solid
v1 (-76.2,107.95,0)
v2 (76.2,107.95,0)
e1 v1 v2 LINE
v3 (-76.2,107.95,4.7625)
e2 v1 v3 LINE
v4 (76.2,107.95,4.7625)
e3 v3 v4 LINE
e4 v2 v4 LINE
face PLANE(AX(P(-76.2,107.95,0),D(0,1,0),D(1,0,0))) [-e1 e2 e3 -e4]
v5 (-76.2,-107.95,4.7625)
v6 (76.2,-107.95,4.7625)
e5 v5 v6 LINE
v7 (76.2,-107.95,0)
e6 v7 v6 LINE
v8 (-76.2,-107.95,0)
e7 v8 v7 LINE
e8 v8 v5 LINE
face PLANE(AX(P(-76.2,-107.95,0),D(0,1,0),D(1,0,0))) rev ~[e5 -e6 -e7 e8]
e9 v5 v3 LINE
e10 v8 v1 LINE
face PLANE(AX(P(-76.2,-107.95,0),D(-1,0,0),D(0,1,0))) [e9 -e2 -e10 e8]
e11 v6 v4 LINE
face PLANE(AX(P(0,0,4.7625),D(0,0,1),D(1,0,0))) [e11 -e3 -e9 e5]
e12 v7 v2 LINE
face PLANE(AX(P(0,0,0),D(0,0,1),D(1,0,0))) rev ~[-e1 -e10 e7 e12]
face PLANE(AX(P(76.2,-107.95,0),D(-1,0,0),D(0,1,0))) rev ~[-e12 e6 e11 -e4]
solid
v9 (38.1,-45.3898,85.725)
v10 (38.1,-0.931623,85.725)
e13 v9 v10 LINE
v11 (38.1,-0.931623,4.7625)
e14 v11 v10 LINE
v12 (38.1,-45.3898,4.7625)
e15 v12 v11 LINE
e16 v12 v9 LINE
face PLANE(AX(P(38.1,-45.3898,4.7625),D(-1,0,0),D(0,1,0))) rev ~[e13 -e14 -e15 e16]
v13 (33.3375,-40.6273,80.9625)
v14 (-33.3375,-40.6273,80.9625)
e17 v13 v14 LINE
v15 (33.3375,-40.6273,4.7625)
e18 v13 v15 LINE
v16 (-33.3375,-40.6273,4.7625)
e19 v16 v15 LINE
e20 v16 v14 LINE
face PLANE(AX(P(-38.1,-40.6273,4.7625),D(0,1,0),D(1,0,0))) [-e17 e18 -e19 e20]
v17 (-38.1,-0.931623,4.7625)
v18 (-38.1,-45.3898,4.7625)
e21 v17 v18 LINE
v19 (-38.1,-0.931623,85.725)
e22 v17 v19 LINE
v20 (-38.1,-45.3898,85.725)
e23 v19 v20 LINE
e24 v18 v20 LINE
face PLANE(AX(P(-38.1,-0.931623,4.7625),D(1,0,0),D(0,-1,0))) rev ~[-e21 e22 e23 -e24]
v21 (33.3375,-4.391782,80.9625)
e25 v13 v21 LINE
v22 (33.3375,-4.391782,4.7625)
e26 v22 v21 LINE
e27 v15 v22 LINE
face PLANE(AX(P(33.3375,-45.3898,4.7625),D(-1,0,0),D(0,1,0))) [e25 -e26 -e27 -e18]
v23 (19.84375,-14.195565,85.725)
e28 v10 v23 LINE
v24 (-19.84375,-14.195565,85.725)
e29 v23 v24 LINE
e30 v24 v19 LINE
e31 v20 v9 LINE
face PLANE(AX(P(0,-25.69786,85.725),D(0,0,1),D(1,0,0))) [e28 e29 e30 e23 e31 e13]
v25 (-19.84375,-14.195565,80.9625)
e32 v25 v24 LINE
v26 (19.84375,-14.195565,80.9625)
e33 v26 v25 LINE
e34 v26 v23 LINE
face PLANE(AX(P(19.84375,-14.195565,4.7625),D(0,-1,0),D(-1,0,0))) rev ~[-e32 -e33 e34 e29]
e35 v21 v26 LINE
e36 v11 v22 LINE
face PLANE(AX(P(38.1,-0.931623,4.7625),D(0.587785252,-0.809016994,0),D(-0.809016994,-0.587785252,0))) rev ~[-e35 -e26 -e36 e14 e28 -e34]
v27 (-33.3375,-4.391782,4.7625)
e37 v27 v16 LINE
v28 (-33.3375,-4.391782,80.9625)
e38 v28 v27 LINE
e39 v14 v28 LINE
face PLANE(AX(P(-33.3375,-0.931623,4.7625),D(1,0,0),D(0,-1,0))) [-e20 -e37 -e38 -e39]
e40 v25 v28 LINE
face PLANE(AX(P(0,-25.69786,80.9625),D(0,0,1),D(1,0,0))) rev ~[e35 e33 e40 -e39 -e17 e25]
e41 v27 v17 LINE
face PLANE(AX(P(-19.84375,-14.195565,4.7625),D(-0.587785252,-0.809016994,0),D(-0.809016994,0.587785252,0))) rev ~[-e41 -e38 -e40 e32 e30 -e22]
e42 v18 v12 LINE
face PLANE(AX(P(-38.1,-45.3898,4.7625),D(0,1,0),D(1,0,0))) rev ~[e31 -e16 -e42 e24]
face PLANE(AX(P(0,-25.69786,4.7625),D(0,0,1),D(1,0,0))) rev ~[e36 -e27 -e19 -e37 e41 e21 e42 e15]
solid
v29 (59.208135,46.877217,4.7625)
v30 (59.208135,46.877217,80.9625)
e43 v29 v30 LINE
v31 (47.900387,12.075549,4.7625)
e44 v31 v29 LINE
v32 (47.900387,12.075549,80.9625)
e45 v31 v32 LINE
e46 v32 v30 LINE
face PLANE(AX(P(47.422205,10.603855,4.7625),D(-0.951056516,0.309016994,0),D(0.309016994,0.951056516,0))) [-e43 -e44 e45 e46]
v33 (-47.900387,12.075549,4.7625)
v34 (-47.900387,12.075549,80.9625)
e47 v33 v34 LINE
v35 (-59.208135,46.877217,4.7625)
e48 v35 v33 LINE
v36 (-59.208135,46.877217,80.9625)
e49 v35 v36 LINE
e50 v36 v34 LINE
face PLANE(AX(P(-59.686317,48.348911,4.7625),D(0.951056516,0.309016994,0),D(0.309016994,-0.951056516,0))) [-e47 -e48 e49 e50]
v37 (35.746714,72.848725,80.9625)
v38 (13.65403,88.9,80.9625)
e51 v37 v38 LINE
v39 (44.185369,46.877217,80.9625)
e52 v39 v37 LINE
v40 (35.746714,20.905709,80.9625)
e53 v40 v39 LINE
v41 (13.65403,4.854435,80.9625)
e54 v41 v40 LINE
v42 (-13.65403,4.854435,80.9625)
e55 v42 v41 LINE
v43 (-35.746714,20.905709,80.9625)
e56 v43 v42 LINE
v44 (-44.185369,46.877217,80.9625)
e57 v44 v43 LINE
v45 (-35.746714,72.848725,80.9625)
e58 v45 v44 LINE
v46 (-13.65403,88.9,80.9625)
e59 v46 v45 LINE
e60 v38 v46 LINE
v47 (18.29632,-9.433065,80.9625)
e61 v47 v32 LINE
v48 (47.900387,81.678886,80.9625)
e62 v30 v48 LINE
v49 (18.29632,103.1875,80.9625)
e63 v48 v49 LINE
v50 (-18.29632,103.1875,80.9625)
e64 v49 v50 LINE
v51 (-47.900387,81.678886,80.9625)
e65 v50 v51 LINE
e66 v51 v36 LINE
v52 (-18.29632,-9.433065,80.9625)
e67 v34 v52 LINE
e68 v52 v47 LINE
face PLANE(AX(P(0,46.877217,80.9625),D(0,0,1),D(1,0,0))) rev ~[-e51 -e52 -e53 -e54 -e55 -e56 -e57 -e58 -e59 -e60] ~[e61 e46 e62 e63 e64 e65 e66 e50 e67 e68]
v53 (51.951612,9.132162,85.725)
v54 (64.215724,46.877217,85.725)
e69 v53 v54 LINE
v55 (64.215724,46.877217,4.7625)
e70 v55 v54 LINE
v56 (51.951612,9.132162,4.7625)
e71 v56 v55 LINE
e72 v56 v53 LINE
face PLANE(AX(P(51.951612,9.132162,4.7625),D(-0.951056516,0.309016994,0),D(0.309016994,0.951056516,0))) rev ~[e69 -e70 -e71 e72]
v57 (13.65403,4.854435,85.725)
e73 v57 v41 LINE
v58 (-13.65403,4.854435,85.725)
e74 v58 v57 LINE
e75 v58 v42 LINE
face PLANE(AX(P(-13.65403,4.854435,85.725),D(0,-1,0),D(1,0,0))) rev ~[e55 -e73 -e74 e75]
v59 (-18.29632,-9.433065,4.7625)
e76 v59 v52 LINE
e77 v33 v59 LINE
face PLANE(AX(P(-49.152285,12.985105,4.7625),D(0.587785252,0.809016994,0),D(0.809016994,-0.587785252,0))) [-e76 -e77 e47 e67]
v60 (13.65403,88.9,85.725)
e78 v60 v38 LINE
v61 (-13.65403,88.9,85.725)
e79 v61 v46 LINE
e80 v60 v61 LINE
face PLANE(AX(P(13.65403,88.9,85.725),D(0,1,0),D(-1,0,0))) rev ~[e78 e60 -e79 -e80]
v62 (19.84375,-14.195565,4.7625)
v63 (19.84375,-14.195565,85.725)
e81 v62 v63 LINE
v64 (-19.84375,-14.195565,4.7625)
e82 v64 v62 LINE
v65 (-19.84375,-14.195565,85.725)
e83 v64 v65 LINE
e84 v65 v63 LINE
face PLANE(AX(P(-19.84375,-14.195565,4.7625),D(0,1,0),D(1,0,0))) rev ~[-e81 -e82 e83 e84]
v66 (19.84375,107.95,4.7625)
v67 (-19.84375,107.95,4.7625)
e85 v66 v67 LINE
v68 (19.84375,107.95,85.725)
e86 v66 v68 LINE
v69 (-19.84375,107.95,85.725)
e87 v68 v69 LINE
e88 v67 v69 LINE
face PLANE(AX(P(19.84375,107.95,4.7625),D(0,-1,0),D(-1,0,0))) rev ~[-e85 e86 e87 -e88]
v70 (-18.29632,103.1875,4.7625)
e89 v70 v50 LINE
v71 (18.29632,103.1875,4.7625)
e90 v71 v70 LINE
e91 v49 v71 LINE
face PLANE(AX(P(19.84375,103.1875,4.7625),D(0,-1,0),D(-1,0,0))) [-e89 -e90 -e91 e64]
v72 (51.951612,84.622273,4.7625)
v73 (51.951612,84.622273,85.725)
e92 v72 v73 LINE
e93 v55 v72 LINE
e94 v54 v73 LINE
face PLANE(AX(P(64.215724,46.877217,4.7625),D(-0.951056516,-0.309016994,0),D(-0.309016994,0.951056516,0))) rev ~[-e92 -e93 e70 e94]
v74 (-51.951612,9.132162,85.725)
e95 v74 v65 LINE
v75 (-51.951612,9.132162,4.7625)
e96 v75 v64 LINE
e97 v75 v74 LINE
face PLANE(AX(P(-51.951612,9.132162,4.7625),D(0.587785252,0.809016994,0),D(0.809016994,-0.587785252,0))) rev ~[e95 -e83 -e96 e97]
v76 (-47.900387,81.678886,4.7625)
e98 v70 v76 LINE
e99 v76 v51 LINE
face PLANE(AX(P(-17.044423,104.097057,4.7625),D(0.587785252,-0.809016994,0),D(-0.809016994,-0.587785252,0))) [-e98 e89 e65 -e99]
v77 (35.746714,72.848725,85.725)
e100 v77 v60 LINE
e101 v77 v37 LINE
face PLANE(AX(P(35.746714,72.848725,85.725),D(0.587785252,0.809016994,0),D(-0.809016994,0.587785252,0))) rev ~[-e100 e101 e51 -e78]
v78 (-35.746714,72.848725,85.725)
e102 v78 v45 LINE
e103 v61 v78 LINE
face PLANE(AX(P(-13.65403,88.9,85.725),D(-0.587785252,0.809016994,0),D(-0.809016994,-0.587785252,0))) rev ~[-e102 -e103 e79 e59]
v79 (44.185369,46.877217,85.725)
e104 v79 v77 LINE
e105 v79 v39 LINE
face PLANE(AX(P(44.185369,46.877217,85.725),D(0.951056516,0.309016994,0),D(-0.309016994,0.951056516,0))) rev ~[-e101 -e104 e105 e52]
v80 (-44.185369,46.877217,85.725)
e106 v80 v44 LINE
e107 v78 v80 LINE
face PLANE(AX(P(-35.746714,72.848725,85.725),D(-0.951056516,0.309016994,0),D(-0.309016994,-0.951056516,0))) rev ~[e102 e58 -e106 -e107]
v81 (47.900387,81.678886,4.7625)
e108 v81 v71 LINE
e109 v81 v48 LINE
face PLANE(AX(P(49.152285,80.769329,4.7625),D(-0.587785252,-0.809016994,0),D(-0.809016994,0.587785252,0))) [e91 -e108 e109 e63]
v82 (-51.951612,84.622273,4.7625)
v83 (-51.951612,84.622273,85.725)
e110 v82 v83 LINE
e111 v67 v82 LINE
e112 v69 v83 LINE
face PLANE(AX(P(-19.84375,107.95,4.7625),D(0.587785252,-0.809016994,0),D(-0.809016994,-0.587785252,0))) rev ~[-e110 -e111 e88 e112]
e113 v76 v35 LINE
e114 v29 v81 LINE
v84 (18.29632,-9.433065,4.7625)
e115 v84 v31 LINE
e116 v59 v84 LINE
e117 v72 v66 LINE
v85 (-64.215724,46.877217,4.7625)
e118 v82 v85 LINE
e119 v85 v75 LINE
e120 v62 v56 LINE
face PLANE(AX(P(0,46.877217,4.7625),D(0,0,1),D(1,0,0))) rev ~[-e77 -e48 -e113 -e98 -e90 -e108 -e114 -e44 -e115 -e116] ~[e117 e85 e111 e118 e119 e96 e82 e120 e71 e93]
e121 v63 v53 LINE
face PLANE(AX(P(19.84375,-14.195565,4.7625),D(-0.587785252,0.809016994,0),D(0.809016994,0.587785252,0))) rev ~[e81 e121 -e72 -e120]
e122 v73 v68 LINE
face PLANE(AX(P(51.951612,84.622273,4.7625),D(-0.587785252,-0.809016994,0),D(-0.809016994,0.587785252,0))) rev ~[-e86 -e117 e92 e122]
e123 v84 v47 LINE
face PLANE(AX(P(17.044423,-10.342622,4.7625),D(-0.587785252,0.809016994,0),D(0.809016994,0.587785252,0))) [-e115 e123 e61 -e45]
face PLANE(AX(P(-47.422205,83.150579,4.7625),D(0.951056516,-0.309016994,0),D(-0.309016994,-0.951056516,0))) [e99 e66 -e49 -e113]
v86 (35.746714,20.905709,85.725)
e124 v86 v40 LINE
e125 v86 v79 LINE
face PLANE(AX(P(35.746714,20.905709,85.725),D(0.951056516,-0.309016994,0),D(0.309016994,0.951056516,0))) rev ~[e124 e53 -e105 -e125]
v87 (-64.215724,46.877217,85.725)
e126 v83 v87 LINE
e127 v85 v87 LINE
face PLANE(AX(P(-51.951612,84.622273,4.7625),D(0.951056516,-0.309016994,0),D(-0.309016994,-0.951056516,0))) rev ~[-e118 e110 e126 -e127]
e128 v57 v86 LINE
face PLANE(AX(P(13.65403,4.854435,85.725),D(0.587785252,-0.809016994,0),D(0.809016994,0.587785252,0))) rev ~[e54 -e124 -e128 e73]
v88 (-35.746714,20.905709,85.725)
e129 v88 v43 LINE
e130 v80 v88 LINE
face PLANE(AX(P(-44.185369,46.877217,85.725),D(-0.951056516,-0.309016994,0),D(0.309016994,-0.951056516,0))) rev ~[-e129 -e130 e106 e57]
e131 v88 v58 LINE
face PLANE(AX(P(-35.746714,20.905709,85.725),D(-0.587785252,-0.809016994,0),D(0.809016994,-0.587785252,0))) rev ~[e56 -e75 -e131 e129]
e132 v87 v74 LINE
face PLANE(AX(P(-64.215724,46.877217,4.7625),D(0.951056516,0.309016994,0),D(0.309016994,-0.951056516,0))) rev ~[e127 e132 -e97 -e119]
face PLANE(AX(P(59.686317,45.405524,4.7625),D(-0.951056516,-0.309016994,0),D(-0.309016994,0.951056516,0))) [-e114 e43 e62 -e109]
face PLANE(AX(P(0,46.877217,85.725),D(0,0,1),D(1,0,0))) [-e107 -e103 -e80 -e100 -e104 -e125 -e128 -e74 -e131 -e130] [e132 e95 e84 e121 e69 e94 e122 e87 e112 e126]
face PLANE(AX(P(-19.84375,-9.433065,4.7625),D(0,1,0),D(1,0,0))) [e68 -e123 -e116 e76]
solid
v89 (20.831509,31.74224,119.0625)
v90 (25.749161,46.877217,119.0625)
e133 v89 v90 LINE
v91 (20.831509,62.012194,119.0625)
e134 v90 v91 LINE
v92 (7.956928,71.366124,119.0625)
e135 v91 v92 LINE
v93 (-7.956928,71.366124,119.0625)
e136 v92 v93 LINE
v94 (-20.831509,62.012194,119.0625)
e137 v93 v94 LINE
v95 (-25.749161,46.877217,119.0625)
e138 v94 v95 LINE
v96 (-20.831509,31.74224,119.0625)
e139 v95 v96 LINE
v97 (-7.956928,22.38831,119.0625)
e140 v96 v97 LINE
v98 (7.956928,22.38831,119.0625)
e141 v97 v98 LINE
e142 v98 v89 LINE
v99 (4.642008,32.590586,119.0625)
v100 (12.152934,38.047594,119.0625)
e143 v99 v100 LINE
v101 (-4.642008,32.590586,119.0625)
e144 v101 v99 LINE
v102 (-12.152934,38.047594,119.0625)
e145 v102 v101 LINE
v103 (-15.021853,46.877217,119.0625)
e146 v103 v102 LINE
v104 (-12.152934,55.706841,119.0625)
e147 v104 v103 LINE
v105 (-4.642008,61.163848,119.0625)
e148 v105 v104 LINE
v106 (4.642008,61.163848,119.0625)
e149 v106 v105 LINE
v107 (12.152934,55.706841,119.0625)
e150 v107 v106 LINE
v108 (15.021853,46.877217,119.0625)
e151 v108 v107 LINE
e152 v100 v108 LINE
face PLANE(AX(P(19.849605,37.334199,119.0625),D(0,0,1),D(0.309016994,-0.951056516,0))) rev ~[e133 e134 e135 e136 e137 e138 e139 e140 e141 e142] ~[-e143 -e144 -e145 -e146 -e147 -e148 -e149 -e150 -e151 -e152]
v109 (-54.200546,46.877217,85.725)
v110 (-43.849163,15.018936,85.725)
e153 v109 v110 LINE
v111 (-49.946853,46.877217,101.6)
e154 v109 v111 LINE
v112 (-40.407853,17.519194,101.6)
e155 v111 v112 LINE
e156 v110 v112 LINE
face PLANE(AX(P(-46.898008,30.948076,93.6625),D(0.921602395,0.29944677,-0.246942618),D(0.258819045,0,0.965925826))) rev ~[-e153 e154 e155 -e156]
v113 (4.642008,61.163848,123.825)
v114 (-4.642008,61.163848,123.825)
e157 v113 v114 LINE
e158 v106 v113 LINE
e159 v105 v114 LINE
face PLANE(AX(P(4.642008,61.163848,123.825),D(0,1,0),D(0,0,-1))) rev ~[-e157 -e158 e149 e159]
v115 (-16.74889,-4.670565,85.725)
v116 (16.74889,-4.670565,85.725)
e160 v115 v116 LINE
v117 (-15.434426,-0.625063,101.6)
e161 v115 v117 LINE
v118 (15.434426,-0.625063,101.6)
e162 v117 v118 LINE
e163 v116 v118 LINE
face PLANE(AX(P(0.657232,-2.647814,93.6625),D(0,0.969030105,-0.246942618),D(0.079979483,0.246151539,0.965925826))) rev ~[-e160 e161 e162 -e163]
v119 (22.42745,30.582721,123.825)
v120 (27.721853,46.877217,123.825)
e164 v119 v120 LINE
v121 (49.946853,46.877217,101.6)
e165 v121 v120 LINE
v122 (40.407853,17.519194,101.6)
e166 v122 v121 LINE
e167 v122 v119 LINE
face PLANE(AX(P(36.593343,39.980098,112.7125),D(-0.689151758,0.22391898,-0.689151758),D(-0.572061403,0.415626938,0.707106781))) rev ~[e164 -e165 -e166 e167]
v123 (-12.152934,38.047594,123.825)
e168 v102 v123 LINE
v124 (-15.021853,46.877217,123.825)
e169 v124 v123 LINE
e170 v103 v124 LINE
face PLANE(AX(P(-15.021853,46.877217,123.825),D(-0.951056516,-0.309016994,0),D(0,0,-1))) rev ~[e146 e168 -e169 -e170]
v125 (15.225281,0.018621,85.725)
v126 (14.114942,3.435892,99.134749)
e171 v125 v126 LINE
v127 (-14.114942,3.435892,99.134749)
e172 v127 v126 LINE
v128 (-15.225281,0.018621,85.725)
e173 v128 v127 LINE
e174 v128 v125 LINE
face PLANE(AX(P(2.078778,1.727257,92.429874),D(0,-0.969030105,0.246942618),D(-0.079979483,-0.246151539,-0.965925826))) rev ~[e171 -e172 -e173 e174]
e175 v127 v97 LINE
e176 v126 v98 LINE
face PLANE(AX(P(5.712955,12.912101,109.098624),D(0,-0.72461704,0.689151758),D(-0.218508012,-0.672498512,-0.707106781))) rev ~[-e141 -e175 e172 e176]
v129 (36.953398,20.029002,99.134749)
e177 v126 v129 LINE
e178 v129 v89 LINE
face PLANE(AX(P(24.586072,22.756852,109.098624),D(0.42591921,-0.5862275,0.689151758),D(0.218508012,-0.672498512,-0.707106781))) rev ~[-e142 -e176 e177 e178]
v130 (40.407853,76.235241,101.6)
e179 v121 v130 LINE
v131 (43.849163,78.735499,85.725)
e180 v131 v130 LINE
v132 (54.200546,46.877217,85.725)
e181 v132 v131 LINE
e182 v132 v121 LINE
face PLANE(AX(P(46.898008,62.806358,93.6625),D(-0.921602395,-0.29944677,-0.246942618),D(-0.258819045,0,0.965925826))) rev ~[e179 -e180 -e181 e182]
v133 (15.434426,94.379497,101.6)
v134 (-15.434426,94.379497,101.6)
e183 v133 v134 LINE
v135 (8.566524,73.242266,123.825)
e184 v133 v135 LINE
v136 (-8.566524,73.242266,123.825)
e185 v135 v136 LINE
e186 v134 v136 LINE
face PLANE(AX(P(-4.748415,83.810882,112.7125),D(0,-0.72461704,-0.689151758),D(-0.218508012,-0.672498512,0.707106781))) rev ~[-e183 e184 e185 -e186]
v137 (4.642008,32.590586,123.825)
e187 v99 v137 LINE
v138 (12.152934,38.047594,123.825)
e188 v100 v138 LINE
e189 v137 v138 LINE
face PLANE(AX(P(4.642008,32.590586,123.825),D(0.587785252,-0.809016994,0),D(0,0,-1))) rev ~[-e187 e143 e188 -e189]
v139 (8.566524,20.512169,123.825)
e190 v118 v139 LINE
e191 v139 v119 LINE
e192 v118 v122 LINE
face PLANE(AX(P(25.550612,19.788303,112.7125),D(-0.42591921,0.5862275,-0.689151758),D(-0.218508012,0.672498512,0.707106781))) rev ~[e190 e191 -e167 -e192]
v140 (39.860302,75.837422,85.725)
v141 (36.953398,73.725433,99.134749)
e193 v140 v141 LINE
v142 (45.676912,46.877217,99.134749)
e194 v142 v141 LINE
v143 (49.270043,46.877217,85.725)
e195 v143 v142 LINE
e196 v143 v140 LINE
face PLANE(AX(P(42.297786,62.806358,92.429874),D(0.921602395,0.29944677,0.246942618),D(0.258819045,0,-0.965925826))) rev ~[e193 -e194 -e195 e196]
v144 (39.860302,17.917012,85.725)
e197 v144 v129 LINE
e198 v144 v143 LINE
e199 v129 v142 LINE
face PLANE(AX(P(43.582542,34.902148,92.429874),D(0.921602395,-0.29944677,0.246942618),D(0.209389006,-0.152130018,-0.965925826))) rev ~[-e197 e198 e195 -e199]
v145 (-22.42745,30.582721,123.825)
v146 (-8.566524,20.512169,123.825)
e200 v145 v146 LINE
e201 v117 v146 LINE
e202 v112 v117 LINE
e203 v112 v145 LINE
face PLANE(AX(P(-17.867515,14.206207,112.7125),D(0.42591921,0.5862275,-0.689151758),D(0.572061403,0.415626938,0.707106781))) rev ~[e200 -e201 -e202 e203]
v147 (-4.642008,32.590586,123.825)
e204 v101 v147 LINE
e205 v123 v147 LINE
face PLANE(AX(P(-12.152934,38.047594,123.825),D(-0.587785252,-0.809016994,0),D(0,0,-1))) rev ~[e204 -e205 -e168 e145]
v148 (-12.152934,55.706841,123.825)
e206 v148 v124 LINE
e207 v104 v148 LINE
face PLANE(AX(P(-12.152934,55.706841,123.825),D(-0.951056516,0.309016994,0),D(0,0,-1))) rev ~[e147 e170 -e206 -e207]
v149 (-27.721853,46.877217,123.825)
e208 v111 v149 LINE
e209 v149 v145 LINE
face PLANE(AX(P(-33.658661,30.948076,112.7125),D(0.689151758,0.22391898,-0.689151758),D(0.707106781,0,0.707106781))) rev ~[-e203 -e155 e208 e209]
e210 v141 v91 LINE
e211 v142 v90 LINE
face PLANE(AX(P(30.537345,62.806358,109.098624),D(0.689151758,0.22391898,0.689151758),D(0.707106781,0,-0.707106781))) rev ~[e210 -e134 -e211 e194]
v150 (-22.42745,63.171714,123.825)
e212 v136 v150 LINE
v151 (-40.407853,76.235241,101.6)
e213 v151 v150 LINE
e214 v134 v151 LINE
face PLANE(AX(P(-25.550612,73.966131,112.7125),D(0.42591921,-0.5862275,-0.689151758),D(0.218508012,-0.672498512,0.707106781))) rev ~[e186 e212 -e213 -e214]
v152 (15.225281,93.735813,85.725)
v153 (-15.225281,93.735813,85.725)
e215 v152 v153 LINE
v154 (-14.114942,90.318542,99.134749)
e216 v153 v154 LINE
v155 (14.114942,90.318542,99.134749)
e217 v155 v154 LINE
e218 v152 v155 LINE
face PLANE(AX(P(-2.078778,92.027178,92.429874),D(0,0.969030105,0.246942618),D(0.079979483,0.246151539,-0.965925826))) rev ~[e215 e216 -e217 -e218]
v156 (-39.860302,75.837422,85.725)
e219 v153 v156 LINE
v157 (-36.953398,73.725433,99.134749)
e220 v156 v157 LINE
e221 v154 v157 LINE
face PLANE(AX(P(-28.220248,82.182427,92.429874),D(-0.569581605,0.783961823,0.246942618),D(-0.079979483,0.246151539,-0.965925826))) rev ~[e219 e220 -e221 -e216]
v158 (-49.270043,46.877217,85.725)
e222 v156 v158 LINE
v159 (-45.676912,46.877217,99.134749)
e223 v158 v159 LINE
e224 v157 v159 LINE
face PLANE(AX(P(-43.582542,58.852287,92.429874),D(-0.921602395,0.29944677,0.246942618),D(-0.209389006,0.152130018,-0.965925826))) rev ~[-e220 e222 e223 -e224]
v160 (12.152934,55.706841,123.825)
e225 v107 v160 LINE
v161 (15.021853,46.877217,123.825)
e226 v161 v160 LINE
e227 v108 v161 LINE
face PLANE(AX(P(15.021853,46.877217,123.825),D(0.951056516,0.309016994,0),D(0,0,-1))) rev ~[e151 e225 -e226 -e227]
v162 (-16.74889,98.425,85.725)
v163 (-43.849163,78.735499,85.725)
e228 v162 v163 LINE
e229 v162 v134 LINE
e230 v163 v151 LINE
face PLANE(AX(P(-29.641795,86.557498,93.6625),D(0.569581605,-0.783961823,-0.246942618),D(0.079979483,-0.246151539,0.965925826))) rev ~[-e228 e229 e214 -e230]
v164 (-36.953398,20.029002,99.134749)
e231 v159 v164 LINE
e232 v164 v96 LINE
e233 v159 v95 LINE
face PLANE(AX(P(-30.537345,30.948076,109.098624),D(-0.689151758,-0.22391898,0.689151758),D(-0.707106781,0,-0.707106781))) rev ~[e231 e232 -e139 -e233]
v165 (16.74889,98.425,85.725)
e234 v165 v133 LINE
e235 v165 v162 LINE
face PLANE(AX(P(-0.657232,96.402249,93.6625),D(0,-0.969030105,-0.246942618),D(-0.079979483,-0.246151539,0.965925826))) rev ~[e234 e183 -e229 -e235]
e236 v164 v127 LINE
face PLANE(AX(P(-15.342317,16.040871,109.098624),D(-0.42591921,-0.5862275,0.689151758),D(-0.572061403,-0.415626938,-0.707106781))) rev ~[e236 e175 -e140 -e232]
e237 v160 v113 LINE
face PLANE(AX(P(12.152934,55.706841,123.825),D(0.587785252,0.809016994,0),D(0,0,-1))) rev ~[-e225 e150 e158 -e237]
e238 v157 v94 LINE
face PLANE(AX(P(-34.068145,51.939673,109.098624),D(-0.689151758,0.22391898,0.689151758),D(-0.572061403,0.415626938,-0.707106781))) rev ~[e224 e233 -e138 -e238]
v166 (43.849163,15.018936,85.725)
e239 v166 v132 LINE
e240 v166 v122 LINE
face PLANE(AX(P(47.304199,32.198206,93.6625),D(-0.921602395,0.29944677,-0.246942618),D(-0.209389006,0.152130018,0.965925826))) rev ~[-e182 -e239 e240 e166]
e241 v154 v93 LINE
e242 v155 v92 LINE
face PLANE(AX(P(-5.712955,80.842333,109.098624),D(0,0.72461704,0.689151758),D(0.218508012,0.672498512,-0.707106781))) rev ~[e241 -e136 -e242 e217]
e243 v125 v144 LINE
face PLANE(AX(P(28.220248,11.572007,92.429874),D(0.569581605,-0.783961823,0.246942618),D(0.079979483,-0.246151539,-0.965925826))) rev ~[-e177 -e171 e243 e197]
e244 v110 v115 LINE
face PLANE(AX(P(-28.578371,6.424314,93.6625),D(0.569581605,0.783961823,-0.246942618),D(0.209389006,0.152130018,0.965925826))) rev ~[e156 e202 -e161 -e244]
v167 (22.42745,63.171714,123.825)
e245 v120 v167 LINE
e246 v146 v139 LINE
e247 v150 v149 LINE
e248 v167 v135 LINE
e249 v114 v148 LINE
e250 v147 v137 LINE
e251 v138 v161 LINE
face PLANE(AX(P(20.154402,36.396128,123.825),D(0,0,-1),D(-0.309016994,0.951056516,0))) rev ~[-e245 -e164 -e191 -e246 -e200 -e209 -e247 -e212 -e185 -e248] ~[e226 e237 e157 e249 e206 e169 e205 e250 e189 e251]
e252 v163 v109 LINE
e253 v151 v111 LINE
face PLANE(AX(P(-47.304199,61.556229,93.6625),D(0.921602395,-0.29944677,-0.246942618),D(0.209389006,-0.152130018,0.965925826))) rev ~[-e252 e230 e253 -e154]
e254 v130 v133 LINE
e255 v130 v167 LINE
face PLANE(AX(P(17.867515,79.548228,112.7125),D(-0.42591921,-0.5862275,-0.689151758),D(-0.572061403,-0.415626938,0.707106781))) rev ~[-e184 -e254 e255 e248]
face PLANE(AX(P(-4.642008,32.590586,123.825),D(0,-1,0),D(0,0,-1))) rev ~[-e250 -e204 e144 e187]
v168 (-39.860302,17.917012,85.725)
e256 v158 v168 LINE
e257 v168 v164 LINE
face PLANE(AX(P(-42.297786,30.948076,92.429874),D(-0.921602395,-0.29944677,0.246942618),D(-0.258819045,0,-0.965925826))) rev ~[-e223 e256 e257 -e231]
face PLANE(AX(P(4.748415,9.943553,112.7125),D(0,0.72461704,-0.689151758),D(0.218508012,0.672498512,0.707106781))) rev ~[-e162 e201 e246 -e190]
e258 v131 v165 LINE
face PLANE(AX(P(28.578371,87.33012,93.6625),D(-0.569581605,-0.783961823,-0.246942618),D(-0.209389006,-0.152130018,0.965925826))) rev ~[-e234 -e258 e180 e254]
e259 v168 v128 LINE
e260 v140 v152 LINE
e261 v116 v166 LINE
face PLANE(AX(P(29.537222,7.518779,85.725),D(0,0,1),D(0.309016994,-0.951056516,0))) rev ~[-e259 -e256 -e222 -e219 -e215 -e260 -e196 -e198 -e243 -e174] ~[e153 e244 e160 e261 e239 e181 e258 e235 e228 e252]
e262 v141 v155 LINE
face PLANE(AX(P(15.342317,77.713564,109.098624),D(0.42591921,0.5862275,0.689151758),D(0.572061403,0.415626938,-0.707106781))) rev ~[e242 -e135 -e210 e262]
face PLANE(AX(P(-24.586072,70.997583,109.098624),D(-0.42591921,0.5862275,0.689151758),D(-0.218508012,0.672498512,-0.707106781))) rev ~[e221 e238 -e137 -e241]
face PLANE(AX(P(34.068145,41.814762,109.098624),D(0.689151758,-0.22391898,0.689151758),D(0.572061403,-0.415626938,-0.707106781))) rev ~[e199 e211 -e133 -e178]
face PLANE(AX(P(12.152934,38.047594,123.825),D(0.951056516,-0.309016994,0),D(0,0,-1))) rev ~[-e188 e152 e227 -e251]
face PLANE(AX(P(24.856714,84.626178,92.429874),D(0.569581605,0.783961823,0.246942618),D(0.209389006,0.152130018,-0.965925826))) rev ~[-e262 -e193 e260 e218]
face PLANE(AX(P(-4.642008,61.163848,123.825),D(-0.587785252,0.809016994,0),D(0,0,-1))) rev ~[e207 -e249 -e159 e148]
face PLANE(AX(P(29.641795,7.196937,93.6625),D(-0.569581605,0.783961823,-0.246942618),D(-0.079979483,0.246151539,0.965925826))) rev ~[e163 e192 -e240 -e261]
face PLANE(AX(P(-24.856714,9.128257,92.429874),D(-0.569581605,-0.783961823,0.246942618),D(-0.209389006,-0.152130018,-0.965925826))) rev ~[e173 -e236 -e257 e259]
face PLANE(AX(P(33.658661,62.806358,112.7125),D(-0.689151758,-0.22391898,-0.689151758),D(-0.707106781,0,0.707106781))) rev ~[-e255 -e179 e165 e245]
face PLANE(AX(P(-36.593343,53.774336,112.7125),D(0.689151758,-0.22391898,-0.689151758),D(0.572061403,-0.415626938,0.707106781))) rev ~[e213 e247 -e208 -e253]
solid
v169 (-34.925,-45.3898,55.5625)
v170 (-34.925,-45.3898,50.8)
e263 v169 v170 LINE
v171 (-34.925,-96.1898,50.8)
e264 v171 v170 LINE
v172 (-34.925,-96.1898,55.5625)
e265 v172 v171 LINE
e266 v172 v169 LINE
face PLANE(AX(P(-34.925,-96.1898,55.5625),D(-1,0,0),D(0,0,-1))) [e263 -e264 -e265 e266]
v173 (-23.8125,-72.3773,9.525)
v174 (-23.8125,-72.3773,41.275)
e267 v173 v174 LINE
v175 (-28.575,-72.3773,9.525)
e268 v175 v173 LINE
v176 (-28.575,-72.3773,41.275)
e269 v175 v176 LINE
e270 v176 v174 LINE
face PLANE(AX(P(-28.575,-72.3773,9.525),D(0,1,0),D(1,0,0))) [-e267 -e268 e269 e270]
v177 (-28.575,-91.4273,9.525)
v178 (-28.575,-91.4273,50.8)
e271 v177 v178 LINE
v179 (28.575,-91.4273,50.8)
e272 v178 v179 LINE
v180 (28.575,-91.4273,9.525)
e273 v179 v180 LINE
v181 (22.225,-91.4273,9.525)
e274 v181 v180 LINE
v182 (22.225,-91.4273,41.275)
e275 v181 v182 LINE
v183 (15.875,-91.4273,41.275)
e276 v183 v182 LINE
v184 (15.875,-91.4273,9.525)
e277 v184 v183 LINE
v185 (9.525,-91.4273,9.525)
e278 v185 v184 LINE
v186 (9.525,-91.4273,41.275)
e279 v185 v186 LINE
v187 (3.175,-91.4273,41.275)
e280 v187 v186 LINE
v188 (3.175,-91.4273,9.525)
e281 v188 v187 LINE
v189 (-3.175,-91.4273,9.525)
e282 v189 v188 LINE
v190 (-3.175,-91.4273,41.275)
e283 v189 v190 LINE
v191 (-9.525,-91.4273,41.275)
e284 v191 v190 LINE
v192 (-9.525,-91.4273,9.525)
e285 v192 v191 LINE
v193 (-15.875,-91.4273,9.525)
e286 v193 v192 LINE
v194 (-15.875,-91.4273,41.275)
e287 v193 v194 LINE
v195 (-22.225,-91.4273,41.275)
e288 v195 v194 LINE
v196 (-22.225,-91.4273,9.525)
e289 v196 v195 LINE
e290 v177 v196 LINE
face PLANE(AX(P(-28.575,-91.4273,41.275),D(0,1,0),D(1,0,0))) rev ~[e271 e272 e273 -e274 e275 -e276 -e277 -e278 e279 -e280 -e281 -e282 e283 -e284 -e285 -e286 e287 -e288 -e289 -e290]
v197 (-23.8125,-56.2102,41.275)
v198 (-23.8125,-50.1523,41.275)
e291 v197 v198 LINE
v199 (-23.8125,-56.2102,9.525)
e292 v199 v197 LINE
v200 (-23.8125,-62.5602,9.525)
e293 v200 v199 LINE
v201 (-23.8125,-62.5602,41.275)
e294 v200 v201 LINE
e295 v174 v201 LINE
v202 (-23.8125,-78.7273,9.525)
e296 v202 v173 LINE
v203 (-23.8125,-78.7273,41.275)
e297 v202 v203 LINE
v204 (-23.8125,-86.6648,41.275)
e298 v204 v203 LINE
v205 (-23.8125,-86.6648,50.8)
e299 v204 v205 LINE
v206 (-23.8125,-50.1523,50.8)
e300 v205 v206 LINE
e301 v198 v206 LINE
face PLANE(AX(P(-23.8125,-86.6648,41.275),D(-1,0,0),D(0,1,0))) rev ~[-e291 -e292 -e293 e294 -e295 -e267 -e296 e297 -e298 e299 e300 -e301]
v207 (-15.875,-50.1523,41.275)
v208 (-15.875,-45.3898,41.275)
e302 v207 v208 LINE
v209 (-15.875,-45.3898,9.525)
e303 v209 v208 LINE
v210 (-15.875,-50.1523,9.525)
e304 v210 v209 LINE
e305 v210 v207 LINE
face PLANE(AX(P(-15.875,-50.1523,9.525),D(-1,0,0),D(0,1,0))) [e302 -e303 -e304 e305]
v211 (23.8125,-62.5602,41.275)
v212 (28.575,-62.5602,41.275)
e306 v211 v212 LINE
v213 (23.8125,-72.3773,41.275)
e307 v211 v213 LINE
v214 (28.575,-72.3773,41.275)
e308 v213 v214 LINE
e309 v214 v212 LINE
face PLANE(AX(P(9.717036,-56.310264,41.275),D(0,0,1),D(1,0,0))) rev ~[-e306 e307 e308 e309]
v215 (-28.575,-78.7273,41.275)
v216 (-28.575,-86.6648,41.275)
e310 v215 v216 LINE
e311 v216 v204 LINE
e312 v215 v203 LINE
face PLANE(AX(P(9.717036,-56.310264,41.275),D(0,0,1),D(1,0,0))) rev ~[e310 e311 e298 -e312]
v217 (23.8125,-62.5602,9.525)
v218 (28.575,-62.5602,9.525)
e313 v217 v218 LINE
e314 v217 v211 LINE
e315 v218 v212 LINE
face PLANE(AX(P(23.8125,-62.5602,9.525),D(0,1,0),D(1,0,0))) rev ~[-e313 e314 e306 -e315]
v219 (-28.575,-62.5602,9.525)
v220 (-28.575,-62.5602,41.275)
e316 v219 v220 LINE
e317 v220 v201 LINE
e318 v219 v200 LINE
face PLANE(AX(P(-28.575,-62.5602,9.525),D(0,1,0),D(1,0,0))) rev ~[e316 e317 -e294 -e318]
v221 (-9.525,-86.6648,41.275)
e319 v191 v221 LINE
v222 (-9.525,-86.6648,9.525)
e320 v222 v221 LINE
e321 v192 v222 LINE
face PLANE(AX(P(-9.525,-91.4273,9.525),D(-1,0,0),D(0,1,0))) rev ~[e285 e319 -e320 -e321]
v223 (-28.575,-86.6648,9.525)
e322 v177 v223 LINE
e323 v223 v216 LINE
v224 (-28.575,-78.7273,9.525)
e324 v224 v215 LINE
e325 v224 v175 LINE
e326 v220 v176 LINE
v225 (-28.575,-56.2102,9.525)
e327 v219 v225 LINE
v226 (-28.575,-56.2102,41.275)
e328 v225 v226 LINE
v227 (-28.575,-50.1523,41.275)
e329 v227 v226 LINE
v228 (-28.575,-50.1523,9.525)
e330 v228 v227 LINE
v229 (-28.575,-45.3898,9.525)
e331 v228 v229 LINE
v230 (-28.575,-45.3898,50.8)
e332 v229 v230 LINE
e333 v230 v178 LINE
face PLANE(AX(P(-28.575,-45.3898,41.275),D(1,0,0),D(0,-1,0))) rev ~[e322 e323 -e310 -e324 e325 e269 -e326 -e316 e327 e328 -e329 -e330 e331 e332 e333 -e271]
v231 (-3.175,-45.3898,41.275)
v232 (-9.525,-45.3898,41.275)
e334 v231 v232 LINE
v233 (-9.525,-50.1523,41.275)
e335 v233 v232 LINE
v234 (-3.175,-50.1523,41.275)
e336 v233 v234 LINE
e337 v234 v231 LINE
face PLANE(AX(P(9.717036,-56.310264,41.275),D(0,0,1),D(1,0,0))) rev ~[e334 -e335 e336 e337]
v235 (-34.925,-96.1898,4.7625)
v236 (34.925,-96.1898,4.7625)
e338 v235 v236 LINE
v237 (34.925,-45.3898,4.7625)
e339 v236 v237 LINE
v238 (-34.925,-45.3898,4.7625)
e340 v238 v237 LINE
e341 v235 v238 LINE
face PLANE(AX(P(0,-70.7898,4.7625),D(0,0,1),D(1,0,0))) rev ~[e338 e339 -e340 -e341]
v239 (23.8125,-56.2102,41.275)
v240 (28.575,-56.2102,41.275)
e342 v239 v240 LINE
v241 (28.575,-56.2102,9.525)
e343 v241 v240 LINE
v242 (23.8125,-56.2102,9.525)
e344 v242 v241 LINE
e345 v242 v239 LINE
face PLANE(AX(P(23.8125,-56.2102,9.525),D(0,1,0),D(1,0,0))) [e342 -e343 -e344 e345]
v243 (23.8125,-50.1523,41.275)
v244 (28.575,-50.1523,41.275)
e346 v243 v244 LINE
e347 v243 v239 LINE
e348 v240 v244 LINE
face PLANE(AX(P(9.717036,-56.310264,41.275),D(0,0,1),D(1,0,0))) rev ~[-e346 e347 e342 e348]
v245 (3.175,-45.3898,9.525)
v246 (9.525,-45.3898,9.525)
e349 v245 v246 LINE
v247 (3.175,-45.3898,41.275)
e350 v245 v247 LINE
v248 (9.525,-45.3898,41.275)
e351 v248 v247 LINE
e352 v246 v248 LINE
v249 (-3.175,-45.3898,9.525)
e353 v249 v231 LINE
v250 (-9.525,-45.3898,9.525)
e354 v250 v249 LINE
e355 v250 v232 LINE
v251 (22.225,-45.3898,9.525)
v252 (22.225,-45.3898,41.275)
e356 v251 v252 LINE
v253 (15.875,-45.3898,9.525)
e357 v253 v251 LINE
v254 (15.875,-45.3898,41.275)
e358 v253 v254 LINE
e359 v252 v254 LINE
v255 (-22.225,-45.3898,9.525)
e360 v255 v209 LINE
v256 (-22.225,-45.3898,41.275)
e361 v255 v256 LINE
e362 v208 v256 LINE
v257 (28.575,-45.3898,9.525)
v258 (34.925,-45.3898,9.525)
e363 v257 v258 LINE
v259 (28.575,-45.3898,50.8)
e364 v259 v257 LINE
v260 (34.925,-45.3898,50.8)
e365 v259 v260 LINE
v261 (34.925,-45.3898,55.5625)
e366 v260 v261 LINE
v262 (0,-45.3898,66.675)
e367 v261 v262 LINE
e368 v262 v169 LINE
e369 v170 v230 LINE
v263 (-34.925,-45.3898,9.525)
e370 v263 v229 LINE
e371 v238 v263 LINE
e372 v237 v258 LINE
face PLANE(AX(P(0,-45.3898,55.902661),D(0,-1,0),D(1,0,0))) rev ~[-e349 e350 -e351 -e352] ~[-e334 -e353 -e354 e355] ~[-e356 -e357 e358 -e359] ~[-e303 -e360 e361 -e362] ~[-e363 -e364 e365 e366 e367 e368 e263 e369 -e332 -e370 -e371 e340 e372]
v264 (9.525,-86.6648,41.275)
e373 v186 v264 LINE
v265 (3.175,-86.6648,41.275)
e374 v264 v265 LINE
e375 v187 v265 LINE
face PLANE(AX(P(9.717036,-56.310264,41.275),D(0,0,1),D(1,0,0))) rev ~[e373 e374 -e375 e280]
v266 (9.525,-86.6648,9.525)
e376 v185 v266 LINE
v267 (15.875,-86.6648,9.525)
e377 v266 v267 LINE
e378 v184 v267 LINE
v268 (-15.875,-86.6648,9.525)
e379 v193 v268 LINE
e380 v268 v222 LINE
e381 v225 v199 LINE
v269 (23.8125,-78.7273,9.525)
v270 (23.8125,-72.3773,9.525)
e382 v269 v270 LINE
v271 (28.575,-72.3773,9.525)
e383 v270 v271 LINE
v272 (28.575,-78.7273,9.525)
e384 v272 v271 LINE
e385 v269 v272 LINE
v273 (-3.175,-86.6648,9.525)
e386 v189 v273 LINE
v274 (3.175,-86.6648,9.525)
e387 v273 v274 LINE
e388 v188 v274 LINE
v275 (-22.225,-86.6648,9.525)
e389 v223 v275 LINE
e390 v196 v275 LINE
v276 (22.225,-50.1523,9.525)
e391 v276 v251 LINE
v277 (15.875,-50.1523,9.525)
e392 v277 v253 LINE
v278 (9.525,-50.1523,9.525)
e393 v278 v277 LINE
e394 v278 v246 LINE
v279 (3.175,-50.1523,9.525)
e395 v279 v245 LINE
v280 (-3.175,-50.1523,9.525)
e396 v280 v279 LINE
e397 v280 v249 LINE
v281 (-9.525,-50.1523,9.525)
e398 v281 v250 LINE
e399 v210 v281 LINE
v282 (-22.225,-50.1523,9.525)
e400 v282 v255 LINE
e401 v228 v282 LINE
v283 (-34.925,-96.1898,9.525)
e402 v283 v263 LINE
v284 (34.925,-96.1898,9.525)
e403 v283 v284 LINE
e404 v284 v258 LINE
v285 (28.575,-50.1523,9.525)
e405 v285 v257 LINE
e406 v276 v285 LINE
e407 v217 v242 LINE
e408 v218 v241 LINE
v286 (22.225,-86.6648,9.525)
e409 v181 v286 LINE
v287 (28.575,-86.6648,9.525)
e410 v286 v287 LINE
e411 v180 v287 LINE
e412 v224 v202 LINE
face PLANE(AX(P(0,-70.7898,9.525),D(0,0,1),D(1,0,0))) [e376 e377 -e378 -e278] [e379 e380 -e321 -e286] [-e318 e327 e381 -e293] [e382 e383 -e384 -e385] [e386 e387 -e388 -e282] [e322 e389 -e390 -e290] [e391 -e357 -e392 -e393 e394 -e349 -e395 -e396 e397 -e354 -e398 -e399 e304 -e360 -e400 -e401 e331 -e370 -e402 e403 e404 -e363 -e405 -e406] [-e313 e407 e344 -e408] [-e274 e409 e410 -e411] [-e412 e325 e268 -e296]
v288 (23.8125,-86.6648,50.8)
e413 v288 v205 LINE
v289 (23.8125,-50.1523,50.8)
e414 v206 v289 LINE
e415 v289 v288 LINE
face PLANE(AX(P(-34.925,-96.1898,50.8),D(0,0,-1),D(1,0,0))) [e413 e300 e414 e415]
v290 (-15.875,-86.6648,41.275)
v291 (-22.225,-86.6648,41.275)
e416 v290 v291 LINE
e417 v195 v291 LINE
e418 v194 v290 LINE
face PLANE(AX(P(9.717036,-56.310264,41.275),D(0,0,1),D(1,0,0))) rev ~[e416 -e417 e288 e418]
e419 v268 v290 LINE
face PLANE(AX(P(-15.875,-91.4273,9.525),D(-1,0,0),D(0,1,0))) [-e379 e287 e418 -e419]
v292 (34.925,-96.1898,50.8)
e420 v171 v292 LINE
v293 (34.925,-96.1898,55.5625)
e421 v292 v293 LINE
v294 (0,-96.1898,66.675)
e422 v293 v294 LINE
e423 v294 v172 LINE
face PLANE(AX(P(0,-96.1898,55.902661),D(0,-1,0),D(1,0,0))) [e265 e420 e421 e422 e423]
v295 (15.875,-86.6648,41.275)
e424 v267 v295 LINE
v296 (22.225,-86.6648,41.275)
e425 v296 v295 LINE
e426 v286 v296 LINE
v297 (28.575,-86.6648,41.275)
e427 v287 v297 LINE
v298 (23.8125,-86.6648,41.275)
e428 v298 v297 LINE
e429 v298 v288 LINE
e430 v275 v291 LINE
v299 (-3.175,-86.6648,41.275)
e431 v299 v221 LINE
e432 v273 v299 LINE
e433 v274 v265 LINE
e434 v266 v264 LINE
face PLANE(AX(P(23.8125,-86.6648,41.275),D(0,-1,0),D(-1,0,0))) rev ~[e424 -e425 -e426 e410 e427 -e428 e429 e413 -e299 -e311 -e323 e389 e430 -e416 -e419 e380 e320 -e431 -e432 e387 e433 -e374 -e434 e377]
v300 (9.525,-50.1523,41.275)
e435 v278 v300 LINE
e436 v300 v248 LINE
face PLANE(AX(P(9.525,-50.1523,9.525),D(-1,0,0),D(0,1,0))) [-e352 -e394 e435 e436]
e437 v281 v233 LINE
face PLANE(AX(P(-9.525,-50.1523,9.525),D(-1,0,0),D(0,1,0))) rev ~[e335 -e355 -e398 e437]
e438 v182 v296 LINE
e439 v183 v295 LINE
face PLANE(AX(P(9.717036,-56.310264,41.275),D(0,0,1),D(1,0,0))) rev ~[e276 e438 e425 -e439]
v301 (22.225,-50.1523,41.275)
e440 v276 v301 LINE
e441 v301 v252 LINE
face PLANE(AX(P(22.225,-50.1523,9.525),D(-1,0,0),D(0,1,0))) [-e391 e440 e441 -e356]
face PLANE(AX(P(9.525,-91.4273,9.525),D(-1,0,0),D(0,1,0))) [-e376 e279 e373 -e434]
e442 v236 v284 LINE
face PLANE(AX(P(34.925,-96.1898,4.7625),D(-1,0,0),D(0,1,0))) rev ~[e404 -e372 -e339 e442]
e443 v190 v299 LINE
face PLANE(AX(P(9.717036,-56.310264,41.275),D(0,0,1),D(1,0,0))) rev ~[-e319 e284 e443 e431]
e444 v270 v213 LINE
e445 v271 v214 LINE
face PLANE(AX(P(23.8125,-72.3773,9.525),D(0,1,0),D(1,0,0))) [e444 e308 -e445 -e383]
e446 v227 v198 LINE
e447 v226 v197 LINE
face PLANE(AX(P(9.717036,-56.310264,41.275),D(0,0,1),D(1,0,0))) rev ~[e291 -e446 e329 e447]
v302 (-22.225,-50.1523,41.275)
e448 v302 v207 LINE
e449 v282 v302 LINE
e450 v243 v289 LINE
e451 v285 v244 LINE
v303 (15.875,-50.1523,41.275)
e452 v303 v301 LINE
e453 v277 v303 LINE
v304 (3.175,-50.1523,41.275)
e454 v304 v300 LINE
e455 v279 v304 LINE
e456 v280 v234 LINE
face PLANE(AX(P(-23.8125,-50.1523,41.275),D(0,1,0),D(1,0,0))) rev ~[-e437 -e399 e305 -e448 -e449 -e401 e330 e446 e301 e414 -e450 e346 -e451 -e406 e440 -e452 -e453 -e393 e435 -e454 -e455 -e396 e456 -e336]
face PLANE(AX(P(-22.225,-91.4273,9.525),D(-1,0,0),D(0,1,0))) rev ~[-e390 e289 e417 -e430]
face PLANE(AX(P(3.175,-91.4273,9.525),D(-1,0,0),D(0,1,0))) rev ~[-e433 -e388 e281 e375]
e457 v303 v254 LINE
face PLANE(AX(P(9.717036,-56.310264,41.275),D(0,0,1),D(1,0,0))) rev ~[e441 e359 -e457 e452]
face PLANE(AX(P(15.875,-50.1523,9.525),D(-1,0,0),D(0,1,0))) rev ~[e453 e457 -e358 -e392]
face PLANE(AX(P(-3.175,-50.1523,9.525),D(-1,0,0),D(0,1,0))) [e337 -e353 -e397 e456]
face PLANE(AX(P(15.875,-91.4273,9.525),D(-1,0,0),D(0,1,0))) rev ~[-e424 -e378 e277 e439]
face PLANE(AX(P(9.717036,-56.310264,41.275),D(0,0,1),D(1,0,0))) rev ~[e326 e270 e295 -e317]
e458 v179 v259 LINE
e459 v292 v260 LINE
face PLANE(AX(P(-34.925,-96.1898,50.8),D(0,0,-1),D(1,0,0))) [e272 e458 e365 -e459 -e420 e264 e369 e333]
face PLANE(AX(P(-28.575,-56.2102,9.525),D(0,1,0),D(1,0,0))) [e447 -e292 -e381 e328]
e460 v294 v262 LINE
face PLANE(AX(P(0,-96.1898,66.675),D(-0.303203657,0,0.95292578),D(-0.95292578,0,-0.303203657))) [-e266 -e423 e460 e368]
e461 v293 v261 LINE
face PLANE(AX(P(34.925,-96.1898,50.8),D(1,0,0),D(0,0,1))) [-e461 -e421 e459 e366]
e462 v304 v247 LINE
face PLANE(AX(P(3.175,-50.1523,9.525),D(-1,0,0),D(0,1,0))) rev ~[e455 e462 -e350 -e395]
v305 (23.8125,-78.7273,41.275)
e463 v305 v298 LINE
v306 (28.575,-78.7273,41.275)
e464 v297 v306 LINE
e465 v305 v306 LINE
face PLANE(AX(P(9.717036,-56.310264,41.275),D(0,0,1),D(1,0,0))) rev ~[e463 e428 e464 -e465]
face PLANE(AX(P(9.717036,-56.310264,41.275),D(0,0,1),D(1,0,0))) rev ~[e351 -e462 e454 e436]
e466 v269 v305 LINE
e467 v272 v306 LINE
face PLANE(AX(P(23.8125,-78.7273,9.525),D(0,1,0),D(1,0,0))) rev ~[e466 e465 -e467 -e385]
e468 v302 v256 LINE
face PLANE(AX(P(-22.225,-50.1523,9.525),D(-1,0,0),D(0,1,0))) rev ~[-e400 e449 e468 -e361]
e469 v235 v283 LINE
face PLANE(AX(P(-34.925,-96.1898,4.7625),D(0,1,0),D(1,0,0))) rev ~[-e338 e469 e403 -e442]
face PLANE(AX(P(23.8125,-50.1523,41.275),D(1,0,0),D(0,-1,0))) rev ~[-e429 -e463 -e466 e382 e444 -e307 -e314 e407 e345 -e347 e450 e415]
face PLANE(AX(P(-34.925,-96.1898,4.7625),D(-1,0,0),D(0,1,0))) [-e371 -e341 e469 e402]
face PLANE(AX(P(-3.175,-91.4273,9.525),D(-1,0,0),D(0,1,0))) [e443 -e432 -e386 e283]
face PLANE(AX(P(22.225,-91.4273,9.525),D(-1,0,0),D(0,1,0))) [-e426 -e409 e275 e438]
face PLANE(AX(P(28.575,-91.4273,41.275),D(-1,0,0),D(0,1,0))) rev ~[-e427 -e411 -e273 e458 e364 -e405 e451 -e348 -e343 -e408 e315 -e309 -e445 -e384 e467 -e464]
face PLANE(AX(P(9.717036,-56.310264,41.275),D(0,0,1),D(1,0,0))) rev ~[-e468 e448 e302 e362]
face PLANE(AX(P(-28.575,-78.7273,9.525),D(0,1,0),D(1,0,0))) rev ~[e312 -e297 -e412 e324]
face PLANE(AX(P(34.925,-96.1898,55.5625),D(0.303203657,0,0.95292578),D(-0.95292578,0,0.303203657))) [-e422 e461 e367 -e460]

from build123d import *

# Parameters (mm, degrees)
F0_W      = 152.4
F0_H      = 215.9
F1_DEPTH  = 4.7625
F2_W      = 69.85
F2_H      = 50.8
F3_DEPTH  = 4.7625
F4_W      = 6.35
F4_H      = 4.7625
F4_W_2    = 4.7625
F4_H_2    = 6.35
F5_DEPTH  = 31.75
F7_DEPTH  = 9.525
F9_DEPTH  = 50.8
F11_DEPTH = 80.9625
F13_DEPTH = 80.9625
F14_T     = -4.7625
F15_T     = -4.7625
F17_DEPTH = 85.726


with BuildPart() as f1:
    # F0 (on Top) → F1 (new body)
    with BuildSketch(Plane.XY):
        Rectangle(F0_W, F0_H)
    extrude(amount=F1_DEPTH)


with BuildPart() as f3:
    # F2 (on face) → F3 (new body)
    with BuildSketch(Plane.XY.offset(4.7625)):
        with Locations((0, -70.7898)):
            Rectangle(F2_W, F2_H)
    extrude(amount=F3_DEPTH)

    # F4 (on face) → F5 (join)
    with BuildSketch(Plane.XY.offset(9.525)):
        with Locations((-25.4, -47.77105)):
            Rectangle(F4_W, F4_H)
        with Locations((-12.7, -47.77105)):
            Rectangle(F4_W, F4_H)
        with Locations((0, -47.77105)):
            Rectangle(F4_W, F4_H)
        with Locations((12.7, -47.77105)):
            Rectangle(F4_W, F4_H)
        with Locations((25.4, -47.77105)):
            Rectangle(F4_W, F4_H)
        with Locations((26.19375, -59.3852)):
            Rectangle(F4_W_2, F4_H_2)
        with Locations((26.19375, -75.5523)):
            Rectangle(F4_W_2, F4_H_2)
        with Locations((25.4, -89.04605)):
            Rectangle(F4_W, F4_H)
        with Locations((12.7, -89.04605)):
            Rectangle(F4_W, F4_H)
        with Locations((0, -89.04605)):
            Rectangle(F4_W, F4_H)
        with Locations((-12.7, -89.04605)):
            Rectangle(F4_W, F4_H)
        with Locations((-25.4, -89.04605)):
            Rectangle(F4_W, F4_H)
        with Locations((-26.19375, -75.5523)):
            Rectangle(F4_W_2, F4_H_2)
        with Locations((-26.19375, -59.3852)):
            Rectangle(F4_W_2, F4_H_2)
    extrude(amount=F5_DEPTH)

    # F6 (on face) → F7 (join)
    with BuildSketch(Plane.XY.offset(41.275)):
        Polygon((28.575, -45.3898), (-28.575, -45.3898), (-28.575, -50.1523), (-23.8125, -50.1523), (-22.225, -50.1523), (23.8125, -50.1523), (23.8125, -86.6648), (28.575, -86.6648), align=None)
        Polygon((-23.8125, -50.1523), (-28.575, -50.1523), (-28.575, -91.4273), (28.575, -91.4273), (28.575, -86.6648), (23.8125, -86.6648), (22.225, -86.6648), (-23.8125, -86.6648), align=None)
    extrude(amount=F7_DEPTH)

    # F8 (on face) → F9 (join, through all)
    with BuildSketch(Plane.XZ.offset(96.1898)):
        Polygon((-34.925, 50.8), (-28.575, 50.8), (28.575, 50.8), (34.925, 50.8), (34.925, 55.5625), (0, 66.675), (-34.925, 55.5625), align=None)
    extrude(amount=-F9_DEPTH)


with BuildPart() as f11:
    # F10 (on face) → F11 (new body)
    with BuildSketch(Plane.XY.offset(4.7625)):
        Polygon((19.84375, 107.95), (-19.84375, 107.95), (-51.9516119643, 84.6222727996), (-64.2157239285, 46.8772173092), (-51.9516119643, 9.1321618187), (-19.84375, -14.1955653816), (19.84375, -14.1955653816), (51.9516119643, 9.1321618187), (64.2157239285, 46.8772173092), (51.9516119643, 84.6222727996), align=None)
    extrude(amount=F11_DEPTH)

    # F14
    f14_openings = [f11.faces().sort_by_distance(p)[0] for p in [
        (0, 46.877217, 4.7625),
    ]]
    offset(amount=F14_T, openings=f14_openings)

    # F16 (on face) → F17 (cut, through all)
    with BuildSketch(Plane.XY.offset(85.725)):
        Polygon((35.7467140651, 20.9057093044), (44.1853685568, 46.8772173092), (35.7467140651, 72.848725314), (13.6540297868, 88.9), (-13.6540297868, 88.9), (-35.7467140651, 72.848725314), (-44.1853685568, 46.8772173092), (-35.7467140651, 20.9057093044), (-13.6540297868, 4.8544346184), (13.6540297868, 4.8544346184), align=None)
    extrude(amount=-F17_DEPTH, mode=Mode.SUBTRACT)


with BuildPart() as f13:
    # F12 (on face) → F13 (new body)
    with BuildSketch(Plane.XY.offset(4.7625)):
        Polygon((19.84375, -14.1955653816), (-19.84375, -14.1955653816), (-38.1, -0.9316233547), (-38.1, -45.3898), (38.1, -45.3898), (38.1, -0.9316233547), align=None)
    extrude(amount=F13_DEPTH)

    # F15
    f15_openings = [f13.faces().sort_by_distance(p)[0] for p in [
        (0, -27.941907, 4.7625),
        (0, -14.195565, 45.24375),
        (28.971875, -7.563594, 45.24375),
        (-28.971875, -7.563594, 45.24375),
    ]]
    offset(amount=F15_T, openings=f15_openings)


with BuildPart() as f21:
    # F21: sweep along a path in F18
    with BuildLine(Plane.XY.offset(85.725)) as f21_path:
        Line((16.7488898934, -4.6705653816), (43.8491630147, 15.0189355616))
        Line((43.8491630147, 15.0189355616), (54.2005462426, 46.8772173092))
        Line((54.2005462426, 46.8772173092), (43.8491630147, 78.7354990568))
        Line((43.8491630147, 78.7354990568), (16.7488898934, 98.425))
        Line((16.7488898934, 98.425), (-16.7488898934, 98.425))
        Line((-16.7488898934, 98.425), (-43.8491630147, 78.7354990568))
        Line((-43.8491630147, 78.7354990568), (-54.2005462426, 46.8772173092))
        Line((-54.2005462426, 46.8772173092), (-43.8491630147, 15.0189355616))
        Line((-43.8491630147, 15.0189355616), (-16.7488898934, -4.6705653816))
        Line((-16.7488898934, -4.6705653816), (16.7488898934, -4.6705653816))
    # F20 (on mid) → F21 (sweep)
    with BuildSketch(Plane(origin=(13.7768685014, 4.4763759285, 0), x_dir=(0.3090169944, -0.9510565163, 0), z_dir=(-0.9510565163, -0.3090169944, 0))):
        Polygon((1.0940291389, 99.1347485954), (4.6871604458, 85.725), (9.617663255, 85.725), (5.3639698251, 101.6), (-16.8610301749, 123.825), (-29.5610301749, 123.825), (-29.5610301749, 119.0625), (-18.8337222657, 119.0625), align=None)
    sweep(path=f21_path.line, transition=Transition.RIGHT)


solid = Compound([f1.part, f3.part, f11.part, f13.part, f21.part])
